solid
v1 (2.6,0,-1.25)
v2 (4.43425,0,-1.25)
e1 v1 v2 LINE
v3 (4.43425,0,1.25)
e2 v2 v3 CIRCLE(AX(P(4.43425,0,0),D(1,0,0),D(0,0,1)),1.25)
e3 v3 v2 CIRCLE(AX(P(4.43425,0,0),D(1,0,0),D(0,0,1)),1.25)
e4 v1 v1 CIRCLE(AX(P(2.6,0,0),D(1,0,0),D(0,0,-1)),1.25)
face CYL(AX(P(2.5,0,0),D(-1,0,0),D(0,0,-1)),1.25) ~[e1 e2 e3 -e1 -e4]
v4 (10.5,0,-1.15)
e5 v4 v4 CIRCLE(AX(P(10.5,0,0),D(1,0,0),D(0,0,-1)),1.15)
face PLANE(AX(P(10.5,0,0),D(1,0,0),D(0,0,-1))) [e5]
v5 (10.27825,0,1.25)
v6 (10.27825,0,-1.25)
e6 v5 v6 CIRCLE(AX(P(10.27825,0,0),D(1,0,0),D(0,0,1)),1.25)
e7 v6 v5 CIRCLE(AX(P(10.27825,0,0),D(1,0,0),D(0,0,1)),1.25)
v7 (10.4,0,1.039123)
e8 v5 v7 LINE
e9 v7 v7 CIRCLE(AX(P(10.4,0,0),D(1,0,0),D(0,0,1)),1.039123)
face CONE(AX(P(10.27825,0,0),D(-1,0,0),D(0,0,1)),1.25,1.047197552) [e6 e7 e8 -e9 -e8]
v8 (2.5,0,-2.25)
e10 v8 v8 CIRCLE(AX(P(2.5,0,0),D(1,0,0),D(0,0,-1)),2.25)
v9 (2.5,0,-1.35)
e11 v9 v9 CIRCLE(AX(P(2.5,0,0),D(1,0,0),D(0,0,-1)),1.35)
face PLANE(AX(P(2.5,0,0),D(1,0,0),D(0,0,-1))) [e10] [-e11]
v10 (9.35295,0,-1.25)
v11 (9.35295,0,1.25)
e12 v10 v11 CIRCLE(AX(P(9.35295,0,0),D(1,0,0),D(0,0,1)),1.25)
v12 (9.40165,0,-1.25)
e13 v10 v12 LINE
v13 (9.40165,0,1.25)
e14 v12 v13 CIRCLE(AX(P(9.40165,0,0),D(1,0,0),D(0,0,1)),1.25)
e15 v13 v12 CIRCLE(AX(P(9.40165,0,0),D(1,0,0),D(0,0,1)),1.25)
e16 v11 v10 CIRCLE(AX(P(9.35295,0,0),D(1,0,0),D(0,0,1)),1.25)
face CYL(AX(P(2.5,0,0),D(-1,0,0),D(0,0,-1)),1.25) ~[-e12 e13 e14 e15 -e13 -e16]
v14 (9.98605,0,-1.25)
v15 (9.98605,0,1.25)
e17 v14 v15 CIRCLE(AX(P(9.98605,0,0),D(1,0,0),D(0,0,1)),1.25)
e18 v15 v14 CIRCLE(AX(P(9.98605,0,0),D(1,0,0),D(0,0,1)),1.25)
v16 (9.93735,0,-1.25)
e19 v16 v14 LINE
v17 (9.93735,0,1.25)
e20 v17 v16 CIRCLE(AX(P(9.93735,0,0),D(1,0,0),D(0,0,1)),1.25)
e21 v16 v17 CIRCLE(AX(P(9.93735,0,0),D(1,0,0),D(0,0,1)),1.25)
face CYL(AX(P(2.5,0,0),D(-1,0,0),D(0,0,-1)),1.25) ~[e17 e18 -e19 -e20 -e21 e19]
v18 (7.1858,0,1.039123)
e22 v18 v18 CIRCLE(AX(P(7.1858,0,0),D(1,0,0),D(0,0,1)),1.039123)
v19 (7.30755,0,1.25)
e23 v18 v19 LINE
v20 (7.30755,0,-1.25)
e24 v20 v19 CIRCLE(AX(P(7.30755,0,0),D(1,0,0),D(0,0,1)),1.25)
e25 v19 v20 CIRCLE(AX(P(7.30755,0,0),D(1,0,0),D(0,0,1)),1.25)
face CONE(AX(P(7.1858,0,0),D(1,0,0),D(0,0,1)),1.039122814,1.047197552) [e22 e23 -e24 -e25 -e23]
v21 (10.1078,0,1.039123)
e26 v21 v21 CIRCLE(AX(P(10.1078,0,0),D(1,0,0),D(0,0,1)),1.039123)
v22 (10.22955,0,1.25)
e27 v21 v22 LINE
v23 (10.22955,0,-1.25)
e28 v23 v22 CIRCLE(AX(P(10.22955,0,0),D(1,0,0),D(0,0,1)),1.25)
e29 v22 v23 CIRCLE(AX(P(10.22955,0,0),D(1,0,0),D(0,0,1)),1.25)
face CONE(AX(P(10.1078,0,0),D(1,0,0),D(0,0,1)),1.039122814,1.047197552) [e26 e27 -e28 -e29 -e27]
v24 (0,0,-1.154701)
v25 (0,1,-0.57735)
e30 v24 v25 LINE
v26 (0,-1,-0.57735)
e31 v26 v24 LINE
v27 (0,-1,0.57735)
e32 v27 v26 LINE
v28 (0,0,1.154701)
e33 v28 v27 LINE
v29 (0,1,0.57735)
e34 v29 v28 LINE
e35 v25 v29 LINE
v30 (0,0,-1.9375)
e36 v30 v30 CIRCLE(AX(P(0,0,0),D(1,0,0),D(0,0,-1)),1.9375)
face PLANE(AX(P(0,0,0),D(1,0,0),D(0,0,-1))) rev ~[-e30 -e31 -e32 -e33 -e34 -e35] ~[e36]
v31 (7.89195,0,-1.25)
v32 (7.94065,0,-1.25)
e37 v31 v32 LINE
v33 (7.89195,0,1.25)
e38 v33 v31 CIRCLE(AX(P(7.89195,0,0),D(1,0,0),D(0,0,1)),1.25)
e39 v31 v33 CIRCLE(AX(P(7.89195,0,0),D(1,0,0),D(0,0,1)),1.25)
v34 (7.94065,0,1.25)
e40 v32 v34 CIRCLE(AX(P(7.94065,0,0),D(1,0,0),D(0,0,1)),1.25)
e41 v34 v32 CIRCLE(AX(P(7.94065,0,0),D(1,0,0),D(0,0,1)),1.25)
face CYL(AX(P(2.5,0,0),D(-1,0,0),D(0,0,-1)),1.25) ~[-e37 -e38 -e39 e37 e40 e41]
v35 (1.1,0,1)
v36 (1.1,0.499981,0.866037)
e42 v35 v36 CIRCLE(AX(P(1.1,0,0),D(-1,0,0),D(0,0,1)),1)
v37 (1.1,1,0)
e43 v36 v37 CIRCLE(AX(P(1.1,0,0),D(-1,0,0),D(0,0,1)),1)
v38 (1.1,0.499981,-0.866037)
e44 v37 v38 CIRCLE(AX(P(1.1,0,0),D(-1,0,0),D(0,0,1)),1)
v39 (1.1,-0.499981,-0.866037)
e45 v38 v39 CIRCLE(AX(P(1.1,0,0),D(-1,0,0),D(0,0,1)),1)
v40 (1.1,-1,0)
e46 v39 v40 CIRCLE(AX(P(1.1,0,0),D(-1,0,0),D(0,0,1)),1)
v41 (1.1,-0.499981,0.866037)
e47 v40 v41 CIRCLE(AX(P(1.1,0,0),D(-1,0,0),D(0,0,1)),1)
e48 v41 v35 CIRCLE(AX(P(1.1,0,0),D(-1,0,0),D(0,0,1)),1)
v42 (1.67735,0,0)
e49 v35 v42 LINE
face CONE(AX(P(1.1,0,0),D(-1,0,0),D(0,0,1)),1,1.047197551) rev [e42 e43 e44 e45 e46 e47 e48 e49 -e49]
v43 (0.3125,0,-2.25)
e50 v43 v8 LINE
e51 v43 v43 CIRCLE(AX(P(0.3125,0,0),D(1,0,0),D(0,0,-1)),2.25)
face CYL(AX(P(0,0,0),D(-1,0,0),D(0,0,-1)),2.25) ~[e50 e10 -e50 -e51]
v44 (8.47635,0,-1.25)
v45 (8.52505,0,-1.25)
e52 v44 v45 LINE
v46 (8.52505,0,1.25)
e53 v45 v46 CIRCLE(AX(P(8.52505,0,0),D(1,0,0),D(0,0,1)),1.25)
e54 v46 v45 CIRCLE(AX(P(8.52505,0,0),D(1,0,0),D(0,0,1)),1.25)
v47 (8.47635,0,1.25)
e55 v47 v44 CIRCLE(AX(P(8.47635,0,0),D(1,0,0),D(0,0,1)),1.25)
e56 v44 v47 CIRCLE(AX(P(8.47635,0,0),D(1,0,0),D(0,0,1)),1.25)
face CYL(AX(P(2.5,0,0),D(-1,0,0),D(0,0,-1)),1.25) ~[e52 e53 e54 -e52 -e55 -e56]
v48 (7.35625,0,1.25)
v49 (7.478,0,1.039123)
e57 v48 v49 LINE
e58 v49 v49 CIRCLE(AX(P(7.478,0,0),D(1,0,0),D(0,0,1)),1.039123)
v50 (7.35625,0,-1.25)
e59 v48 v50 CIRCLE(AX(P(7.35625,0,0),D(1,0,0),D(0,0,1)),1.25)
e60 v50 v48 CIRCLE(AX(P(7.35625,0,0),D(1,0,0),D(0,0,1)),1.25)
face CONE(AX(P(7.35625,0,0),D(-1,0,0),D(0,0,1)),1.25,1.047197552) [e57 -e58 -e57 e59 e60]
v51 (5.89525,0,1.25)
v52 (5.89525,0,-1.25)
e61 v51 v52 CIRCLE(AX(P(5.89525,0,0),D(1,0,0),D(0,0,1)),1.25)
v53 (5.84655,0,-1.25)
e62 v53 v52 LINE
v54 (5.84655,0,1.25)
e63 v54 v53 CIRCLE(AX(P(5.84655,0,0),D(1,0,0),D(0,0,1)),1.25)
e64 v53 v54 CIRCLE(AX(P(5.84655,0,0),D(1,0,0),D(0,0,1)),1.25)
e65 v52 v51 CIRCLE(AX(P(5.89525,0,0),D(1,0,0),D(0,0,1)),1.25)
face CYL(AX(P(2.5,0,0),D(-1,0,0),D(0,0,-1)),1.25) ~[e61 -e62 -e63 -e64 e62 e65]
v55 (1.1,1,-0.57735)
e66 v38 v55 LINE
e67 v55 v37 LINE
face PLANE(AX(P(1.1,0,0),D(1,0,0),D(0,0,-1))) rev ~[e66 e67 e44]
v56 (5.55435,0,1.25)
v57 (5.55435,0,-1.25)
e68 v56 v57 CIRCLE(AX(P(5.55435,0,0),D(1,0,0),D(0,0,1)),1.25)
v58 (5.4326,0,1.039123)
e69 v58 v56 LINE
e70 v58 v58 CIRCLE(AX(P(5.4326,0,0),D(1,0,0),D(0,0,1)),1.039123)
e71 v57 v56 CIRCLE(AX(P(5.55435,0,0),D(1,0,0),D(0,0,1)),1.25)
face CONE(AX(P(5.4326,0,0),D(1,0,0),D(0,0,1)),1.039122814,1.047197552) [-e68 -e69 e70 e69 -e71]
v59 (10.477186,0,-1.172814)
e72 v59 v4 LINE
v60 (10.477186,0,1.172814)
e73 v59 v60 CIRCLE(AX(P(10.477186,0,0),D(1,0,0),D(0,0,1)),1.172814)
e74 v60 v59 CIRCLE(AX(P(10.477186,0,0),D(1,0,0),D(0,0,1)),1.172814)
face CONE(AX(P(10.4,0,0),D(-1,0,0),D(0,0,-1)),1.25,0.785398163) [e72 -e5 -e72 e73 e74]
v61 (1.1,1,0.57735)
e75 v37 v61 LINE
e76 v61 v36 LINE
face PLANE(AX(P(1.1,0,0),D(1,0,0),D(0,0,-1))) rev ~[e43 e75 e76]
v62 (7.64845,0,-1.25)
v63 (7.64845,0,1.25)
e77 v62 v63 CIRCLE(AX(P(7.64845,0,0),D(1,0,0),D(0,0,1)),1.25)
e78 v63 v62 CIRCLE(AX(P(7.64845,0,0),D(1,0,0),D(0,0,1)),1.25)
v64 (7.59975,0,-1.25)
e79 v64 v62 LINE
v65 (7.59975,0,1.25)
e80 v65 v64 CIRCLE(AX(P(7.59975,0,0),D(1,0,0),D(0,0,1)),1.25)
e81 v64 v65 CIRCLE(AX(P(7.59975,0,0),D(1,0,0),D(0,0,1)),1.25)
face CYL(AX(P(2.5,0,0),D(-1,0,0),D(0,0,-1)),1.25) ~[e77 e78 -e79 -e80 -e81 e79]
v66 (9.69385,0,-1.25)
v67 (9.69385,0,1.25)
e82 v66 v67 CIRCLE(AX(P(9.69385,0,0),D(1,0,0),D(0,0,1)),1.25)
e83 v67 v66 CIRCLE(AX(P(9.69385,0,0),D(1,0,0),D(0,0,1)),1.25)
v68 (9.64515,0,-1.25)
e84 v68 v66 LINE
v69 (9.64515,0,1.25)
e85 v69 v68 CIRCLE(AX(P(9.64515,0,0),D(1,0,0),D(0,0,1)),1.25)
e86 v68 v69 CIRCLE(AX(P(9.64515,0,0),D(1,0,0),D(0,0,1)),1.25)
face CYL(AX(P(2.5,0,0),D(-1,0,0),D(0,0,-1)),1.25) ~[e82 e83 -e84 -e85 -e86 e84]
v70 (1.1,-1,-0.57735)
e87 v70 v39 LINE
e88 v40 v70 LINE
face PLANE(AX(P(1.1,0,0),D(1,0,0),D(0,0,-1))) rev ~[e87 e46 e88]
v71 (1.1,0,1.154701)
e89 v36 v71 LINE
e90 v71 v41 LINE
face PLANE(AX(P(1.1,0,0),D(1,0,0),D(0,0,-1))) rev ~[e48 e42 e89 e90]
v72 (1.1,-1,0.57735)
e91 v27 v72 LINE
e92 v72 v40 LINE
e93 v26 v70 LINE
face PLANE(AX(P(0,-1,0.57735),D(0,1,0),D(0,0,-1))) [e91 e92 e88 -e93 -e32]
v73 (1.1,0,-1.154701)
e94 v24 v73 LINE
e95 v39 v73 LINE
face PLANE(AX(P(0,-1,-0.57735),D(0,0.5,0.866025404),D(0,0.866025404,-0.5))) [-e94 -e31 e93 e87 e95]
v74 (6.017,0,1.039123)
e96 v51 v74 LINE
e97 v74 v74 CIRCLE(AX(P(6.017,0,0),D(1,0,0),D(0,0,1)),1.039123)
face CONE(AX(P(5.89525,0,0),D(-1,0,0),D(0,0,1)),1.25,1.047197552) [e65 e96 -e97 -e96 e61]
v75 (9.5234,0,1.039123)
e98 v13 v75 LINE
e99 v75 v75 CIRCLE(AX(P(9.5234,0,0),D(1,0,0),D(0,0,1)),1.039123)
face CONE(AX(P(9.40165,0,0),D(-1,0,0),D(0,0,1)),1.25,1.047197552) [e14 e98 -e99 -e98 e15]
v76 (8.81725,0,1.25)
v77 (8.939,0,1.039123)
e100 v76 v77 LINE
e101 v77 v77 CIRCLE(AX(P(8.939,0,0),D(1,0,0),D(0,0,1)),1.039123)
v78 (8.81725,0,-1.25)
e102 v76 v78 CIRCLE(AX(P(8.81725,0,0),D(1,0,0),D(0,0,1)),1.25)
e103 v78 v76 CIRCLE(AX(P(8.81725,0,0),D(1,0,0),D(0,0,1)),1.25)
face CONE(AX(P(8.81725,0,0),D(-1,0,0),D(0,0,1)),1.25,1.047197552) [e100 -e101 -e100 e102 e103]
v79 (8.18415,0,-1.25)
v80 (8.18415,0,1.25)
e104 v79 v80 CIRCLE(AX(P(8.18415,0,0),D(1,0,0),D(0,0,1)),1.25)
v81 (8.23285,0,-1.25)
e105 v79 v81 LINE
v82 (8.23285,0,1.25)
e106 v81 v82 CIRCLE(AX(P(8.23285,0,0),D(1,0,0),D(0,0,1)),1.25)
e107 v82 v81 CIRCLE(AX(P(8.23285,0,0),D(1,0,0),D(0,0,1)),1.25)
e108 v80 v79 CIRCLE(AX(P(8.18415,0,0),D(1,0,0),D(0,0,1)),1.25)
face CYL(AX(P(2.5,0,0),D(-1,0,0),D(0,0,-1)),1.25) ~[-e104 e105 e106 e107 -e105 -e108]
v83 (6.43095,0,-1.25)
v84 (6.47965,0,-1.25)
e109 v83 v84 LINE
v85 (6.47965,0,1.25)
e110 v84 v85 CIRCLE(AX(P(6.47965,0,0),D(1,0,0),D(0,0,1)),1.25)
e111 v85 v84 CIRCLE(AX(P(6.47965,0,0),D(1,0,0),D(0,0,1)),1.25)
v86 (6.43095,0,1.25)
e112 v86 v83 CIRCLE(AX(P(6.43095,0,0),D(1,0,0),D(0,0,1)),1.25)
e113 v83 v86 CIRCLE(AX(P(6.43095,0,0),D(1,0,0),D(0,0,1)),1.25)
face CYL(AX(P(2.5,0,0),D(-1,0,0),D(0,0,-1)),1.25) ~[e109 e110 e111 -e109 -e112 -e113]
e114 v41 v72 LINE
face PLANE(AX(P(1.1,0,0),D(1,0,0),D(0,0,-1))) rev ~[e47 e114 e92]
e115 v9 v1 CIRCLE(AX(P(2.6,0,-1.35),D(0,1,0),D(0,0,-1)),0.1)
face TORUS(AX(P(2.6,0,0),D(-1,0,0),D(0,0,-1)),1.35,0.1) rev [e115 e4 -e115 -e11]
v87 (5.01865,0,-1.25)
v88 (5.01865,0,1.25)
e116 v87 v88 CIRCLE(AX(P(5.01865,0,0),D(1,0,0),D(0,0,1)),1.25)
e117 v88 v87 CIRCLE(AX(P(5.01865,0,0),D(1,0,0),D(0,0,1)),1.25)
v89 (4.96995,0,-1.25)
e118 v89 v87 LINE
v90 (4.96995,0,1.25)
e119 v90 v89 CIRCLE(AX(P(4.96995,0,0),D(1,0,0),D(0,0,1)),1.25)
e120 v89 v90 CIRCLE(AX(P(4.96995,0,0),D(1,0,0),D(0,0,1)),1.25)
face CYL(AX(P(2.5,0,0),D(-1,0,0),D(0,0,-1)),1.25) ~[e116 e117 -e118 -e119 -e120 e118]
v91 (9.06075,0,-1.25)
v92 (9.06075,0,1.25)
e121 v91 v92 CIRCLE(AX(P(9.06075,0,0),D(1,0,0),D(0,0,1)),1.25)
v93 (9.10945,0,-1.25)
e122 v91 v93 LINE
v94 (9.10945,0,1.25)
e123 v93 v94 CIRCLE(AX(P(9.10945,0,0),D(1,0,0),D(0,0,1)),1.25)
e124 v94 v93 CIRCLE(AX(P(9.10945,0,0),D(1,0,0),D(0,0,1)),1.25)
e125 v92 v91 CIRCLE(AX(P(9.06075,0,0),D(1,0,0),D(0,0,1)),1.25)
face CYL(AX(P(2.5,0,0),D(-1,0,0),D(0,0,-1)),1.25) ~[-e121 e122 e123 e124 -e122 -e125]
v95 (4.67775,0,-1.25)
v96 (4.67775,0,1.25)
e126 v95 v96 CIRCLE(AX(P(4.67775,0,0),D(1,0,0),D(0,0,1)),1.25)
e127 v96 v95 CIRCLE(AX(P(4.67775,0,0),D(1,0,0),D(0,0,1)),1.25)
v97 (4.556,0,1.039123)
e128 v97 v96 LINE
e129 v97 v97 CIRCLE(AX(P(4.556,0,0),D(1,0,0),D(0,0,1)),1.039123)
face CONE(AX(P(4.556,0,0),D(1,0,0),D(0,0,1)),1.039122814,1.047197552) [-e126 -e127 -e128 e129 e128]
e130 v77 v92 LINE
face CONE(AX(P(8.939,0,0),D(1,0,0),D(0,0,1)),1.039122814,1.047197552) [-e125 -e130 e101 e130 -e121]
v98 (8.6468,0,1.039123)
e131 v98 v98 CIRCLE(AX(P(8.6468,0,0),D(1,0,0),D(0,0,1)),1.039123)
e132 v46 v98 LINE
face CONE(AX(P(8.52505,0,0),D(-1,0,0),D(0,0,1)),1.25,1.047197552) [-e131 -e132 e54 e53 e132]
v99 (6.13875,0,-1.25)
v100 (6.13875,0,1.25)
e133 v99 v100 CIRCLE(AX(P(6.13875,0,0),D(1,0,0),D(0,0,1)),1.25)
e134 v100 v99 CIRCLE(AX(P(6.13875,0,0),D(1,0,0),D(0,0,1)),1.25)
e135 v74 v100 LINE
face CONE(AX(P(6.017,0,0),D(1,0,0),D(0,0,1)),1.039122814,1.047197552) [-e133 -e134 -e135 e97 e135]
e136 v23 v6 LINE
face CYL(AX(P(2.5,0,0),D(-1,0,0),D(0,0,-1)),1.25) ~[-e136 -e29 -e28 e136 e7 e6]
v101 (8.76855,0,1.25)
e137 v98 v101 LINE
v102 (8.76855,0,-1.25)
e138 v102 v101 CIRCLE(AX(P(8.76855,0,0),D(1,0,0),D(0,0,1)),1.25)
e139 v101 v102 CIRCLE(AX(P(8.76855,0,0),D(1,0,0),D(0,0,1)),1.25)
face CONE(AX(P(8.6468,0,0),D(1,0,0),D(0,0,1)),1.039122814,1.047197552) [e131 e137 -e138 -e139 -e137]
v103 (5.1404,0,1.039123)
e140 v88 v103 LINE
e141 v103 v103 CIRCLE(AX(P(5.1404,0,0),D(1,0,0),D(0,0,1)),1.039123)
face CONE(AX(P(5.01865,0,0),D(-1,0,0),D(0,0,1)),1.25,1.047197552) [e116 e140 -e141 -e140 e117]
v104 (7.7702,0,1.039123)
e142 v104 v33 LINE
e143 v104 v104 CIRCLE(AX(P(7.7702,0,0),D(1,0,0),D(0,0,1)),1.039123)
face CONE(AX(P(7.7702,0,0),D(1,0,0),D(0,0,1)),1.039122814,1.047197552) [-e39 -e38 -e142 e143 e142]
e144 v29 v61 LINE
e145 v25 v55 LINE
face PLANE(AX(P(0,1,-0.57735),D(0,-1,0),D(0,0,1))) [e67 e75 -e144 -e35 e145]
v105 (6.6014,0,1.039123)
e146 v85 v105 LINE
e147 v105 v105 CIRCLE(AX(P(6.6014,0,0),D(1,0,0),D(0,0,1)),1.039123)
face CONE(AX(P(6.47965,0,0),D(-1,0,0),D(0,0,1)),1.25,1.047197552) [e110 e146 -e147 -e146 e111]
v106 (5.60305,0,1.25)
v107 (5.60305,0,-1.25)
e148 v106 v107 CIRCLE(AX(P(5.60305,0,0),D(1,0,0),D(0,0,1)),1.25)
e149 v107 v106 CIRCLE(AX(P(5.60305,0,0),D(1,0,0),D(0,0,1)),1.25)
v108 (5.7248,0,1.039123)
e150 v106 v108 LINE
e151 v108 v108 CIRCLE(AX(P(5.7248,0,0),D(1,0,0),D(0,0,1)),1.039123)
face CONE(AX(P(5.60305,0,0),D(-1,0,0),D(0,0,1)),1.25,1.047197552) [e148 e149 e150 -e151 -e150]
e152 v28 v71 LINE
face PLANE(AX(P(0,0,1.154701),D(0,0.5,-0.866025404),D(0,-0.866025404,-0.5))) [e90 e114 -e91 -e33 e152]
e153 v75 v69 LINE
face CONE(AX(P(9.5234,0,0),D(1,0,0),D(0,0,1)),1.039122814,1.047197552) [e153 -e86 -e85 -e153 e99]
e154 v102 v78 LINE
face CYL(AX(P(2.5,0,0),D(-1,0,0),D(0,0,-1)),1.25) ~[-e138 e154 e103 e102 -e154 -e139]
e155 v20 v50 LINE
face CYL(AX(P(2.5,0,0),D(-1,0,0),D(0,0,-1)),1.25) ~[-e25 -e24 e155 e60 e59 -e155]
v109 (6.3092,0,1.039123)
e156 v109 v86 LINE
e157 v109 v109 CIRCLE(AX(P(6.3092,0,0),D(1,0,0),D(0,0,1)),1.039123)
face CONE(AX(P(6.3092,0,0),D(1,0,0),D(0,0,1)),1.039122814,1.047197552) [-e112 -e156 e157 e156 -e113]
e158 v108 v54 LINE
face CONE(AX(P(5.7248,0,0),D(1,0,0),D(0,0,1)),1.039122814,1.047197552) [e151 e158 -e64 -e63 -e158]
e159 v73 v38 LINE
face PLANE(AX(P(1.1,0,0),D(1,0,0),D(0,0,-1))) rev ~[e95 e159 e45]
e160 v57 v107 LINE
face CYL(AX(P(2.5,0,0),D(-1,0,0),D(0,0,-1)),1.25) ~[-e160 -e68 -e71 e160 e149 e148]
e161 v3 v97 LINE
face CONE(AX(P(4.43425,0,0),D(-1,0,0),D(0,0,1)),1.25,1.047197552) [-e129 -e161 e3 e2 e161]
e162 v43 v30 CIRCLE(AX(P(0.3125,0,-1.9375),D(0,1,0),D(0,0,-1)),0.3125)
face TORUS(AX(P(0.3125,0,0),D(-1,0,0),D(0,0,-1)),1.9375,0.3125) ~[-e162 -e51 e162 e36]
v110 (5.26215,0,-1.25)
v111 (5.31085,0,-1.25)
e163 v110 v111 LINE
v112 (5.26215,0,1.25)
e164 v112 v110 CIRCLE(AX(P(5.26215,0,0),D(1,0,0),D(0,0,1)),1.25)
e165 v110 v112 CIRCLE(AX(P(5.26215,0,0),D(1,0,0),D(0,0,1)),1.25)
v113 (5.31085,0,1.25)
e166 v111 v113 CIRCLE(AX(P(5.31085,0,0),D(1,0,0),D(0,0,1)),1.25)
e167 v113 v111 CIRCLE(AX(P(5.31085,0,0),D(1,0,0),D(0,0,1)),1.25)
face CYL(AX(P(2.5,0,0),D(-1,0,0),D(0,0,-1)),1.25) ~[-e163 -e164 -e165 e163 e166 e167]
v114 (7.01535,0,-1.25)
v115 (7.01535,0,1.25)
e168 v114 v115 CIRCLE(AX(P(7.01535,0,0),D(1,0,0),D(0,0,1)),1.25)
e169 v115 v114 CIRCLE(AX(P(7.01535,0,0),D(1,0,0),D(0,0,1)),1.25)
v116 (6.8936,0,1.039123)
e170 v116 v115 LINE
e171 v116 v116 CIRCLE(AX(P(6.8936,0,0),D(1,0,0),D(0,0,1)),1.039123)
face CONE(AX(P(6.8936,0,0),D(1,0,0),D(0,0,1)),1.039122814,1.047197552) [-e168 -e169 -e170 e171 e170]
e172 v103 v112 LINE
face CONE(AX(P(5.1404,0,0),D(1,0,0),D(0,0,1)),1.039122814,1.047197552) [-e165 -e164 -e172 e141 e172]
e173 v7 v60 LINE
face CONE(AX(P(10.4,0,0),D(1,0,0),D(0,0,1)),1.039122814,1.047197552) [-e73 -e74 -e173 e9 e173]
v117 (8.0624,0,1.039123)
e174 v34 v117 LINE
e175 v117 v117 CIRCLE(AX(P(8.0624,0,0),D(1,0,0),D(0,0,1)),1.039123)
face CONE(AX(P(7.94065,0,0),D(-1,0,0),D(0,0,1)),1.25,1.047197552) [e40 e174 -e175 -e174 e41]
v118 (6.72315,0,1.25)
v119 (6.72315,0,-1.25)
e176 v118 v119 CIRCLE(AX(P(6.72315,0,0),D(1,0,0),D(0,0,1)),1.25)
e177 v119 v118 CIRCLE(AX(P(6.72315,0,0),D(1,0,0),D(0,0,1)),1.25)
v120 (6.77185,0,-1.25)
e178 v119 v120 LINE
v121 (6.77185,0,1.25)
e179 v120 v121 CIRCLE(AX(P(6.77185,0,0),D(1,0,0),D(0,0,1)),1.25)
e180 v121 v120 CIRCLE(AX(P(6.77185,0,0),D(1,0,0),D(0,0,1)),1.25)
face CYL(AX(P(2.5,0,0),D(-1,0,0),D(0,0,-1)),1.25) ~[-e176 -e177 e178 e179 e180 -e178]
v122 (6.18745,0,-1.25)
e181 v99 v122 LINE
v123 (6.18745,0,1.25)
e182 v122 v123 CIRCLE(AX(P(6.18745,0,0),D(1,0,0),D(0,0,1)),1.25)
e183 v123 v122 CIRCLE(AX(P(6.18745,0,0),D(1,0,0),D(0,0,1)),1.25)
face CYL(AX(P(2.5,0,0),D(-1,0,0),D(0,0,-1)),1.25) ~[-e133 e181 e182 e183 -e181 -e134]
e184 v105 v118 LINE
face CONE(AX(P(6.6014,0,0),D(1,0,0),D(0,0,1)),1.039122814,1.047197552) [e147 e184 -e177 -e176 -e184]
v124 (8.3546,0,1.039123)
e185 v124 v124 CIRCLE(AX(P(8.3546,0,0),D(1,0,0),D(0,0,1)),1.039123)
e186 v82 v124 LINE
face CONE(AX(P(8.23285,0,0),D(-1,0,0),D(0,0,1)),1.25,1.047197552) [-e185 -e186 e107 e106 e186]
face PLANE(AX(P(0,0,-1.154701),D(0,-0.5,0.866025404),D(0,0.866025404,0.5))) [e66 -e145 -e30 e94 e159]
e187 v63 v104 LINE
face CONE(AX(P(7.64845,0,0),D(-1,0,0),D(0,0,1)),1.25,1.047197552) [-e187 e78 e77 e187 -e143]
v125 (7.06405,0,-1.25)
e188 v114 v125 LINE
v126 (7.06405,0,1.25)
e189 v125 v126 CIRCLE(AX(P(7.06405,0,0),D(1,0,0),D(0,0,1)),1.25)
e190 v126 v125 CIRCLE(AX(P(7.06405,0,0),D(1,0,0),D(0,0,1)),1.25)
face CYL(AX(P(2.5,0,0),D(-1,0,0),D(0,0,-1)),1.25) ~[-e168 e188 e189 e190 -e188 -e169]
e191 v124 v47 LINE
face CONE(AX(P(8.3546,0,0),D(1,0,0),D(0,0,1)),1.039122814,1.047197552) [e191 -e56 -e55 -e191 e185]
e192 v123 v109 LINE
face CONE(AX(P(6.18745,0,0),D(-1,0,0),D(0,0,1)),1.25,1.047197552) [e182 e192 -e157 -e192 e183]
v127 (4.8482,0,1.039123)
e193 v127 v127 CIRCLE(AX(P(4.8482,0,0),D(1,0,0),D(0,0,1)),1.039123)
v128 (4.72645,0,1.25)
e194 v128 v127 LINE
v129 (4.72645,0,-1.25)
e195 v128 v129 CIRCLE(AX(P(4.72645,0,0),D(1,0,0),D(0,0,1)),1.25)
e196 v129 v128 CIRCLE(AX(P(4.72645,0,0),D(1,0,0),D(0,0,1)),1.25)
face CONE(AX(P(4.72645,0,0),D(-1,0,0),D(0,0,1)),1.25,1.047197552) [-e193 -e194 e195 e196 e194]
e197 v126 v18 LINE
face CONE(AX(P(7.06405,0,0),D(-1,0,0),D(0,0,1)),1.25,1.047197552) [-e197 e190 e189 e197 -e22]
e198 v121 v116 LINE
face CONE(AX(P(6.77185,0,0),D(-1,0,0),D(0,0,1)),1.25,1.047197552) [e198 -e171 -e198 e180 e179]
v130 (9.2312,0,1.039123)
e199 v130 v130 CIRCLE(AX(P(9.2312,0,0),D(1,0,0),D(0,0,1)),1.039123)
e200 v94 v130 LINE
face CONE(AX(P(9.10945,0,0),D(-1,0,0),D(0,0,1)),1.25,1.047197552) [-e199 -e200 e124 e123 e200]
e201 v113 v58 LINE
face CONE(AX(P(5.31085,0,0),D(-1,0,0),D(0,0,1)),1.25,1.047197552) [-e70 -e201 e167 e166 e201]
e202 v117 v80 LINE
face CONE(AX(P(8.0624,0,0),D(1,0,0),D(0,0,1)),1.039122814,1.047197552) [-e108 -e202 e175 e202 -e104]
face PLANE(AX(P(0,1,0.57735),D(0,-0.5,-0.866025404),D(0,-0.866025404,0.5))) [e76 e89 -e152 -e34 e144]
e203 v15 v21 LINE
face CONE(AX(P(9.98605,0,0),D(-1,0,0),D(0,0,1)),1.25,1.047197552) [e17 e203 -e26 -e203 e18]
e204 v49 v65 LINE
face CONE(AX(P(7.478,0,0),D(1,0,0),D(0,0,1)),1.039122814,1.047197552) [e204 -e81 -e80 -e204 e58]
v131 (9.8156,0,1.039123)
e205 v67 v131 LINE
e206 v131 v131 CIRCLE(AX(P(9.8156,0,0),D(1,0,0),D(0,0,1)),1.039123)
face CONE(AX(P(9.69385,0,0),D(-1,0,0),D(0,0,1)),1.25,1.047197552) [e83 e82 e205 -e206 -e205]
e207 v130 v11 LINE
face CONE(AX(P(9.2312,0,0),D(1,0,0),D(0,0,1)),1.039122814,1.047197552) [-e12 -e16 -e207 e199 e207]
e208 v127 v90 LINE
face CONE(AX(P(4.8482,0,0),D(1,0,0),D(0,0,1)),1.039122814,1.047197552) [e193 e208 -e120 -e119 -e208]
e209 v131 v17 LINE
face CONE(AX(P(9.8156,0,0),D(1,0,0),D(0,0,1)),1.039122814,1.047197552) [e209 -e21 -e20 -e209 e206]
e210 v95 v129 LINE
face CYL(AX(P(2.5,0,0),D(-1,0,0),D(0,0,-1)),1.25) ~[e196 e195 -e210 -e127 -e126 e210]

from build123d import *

# Parameters (mm, degrees)
SKETCH1_R           = 2.25
BASEHEAD_DEPTH      = 2.5
SKETCH2_R           = 1.25
BASEBODY_DEPTH      = 8
HEXAGONSOCKET_DEPTH = 1.1
HEADFILLET_R        = 0.1
TOPFILLET_R         = 0.3125
CHAMFER1_SIZE       = 0.1
LPATTERN10_COUNT    = 21
LPATTERN10_PITCH    = 0.2922


with BuildPart() as part:
    # Sketch1 → BaseHead (new body)
    with BuildSketch(Plane(origin=(0, 0, 0), x_dir=(0, 0, -1), z_dir=(1, 0, 0))):
        Circle(SKETCH1_R)
    extrude(amount=BASEHEAD_DEPTH)

    # Sketch2 → BaseBody (add)
    with BuildSketch(Plane(origin=(2.5, 0, 0), x_dir=(0, 0, -1), z_dir=(1, 0, 0))):
        Circle(SKETCH2_R)
    extrude(amount=BASEBODY_DEPTH)

    # Sketch3 → HexagonSocket (cut)
    with BuildSketch(Plane(origin=(0, 0, 0), x_dir=(0, 0, -1), z_dir=(1, 0, 0))):
        Polygon((1.154700538, 0), (0.577350269, 1), (-0.577350269, 1), (-1.154700538, 0), (-0.577350269, -1), (0.577350269, -1), align=None)
    extrude(amount=HEXAGONSOCKET_DEPTH, mode=Mode.SUBTRACT)

    # Sketch4 → Cut-Revolve1 (revolve, cut)
    with BuildSketch(Plane(origin=(-4.19613823, 0.75, 0), x_dir=(-1, 0, 0), z_dir=(0, 0, 1)), mode=Mode.PRIVATE) as cut_revolve1_sk:
        Polygon((-5.29613823, 1.75), (-5.873488499, 0.75), (-5.29613823, 0.75), align=None)
    revolve(cut_revolve1_sk.sketch.rotate(Axis((0.838992387, 0, 0), (-1, 0, 0)), 90), axis=Axis((0.838992387, 0, 0), (-1, 0, 0)), mode=Mode.SUBTRACT)

    # HeadFillet
    headfillet_edges = [part.edges().sort_by_distance(p)[0] for p in [
        (2.5, 0, 1.25),
    ]]
    fillet(headfillet_edges, radius=HEADFILLET_R)

    # TopFillet
    topfillet_edges = [part.edges().sort_by_distance(p)[0] for p in [
        (0, 0, 2.25),
    ]]
    fillet(topfillet_edges, radius=TOPFILLET_R)

    # Chamfer1
    chamfer1_edges = [part.edges().sort_by_distance(p)[0] for p in [
        (10.5, 0, 1.25),
    ]]
    chamfer(chamfer1_edges, length=CHAMFER1_SIZE)

    # Sketch5 → Cut-Revolve10 (revolve, cut)
    with BuildSketch(Plane.XY, mode=Mode.PRIVATE) as cut_revolve10_sk:
        Polygon((10.4, 1.039122814), (10.52175, 1.25), (10.52175, 1.4935), (10.27825, 1.4935), (10.27825, 1.25), align=None)
    cut_revolve10 = revolve(cut_revolve10_sk.sketch.rotate(Axis((0, 0, 0), (1, 0, 0)), 90), axis=Axis((0, 0, 0), (1, 0, 0)), mode=Mode.SUBTRACT)

    # LPattern10: Cut-Revolve10 ×21
    with Locations(*[(-i * LPATTERN10_PITCH, 0, 0) for i in range(1, LPATTERN10_COUNT)]):
        add(cut_revolve10, mode=Mode.SUBTRACT)


solid = part.part
